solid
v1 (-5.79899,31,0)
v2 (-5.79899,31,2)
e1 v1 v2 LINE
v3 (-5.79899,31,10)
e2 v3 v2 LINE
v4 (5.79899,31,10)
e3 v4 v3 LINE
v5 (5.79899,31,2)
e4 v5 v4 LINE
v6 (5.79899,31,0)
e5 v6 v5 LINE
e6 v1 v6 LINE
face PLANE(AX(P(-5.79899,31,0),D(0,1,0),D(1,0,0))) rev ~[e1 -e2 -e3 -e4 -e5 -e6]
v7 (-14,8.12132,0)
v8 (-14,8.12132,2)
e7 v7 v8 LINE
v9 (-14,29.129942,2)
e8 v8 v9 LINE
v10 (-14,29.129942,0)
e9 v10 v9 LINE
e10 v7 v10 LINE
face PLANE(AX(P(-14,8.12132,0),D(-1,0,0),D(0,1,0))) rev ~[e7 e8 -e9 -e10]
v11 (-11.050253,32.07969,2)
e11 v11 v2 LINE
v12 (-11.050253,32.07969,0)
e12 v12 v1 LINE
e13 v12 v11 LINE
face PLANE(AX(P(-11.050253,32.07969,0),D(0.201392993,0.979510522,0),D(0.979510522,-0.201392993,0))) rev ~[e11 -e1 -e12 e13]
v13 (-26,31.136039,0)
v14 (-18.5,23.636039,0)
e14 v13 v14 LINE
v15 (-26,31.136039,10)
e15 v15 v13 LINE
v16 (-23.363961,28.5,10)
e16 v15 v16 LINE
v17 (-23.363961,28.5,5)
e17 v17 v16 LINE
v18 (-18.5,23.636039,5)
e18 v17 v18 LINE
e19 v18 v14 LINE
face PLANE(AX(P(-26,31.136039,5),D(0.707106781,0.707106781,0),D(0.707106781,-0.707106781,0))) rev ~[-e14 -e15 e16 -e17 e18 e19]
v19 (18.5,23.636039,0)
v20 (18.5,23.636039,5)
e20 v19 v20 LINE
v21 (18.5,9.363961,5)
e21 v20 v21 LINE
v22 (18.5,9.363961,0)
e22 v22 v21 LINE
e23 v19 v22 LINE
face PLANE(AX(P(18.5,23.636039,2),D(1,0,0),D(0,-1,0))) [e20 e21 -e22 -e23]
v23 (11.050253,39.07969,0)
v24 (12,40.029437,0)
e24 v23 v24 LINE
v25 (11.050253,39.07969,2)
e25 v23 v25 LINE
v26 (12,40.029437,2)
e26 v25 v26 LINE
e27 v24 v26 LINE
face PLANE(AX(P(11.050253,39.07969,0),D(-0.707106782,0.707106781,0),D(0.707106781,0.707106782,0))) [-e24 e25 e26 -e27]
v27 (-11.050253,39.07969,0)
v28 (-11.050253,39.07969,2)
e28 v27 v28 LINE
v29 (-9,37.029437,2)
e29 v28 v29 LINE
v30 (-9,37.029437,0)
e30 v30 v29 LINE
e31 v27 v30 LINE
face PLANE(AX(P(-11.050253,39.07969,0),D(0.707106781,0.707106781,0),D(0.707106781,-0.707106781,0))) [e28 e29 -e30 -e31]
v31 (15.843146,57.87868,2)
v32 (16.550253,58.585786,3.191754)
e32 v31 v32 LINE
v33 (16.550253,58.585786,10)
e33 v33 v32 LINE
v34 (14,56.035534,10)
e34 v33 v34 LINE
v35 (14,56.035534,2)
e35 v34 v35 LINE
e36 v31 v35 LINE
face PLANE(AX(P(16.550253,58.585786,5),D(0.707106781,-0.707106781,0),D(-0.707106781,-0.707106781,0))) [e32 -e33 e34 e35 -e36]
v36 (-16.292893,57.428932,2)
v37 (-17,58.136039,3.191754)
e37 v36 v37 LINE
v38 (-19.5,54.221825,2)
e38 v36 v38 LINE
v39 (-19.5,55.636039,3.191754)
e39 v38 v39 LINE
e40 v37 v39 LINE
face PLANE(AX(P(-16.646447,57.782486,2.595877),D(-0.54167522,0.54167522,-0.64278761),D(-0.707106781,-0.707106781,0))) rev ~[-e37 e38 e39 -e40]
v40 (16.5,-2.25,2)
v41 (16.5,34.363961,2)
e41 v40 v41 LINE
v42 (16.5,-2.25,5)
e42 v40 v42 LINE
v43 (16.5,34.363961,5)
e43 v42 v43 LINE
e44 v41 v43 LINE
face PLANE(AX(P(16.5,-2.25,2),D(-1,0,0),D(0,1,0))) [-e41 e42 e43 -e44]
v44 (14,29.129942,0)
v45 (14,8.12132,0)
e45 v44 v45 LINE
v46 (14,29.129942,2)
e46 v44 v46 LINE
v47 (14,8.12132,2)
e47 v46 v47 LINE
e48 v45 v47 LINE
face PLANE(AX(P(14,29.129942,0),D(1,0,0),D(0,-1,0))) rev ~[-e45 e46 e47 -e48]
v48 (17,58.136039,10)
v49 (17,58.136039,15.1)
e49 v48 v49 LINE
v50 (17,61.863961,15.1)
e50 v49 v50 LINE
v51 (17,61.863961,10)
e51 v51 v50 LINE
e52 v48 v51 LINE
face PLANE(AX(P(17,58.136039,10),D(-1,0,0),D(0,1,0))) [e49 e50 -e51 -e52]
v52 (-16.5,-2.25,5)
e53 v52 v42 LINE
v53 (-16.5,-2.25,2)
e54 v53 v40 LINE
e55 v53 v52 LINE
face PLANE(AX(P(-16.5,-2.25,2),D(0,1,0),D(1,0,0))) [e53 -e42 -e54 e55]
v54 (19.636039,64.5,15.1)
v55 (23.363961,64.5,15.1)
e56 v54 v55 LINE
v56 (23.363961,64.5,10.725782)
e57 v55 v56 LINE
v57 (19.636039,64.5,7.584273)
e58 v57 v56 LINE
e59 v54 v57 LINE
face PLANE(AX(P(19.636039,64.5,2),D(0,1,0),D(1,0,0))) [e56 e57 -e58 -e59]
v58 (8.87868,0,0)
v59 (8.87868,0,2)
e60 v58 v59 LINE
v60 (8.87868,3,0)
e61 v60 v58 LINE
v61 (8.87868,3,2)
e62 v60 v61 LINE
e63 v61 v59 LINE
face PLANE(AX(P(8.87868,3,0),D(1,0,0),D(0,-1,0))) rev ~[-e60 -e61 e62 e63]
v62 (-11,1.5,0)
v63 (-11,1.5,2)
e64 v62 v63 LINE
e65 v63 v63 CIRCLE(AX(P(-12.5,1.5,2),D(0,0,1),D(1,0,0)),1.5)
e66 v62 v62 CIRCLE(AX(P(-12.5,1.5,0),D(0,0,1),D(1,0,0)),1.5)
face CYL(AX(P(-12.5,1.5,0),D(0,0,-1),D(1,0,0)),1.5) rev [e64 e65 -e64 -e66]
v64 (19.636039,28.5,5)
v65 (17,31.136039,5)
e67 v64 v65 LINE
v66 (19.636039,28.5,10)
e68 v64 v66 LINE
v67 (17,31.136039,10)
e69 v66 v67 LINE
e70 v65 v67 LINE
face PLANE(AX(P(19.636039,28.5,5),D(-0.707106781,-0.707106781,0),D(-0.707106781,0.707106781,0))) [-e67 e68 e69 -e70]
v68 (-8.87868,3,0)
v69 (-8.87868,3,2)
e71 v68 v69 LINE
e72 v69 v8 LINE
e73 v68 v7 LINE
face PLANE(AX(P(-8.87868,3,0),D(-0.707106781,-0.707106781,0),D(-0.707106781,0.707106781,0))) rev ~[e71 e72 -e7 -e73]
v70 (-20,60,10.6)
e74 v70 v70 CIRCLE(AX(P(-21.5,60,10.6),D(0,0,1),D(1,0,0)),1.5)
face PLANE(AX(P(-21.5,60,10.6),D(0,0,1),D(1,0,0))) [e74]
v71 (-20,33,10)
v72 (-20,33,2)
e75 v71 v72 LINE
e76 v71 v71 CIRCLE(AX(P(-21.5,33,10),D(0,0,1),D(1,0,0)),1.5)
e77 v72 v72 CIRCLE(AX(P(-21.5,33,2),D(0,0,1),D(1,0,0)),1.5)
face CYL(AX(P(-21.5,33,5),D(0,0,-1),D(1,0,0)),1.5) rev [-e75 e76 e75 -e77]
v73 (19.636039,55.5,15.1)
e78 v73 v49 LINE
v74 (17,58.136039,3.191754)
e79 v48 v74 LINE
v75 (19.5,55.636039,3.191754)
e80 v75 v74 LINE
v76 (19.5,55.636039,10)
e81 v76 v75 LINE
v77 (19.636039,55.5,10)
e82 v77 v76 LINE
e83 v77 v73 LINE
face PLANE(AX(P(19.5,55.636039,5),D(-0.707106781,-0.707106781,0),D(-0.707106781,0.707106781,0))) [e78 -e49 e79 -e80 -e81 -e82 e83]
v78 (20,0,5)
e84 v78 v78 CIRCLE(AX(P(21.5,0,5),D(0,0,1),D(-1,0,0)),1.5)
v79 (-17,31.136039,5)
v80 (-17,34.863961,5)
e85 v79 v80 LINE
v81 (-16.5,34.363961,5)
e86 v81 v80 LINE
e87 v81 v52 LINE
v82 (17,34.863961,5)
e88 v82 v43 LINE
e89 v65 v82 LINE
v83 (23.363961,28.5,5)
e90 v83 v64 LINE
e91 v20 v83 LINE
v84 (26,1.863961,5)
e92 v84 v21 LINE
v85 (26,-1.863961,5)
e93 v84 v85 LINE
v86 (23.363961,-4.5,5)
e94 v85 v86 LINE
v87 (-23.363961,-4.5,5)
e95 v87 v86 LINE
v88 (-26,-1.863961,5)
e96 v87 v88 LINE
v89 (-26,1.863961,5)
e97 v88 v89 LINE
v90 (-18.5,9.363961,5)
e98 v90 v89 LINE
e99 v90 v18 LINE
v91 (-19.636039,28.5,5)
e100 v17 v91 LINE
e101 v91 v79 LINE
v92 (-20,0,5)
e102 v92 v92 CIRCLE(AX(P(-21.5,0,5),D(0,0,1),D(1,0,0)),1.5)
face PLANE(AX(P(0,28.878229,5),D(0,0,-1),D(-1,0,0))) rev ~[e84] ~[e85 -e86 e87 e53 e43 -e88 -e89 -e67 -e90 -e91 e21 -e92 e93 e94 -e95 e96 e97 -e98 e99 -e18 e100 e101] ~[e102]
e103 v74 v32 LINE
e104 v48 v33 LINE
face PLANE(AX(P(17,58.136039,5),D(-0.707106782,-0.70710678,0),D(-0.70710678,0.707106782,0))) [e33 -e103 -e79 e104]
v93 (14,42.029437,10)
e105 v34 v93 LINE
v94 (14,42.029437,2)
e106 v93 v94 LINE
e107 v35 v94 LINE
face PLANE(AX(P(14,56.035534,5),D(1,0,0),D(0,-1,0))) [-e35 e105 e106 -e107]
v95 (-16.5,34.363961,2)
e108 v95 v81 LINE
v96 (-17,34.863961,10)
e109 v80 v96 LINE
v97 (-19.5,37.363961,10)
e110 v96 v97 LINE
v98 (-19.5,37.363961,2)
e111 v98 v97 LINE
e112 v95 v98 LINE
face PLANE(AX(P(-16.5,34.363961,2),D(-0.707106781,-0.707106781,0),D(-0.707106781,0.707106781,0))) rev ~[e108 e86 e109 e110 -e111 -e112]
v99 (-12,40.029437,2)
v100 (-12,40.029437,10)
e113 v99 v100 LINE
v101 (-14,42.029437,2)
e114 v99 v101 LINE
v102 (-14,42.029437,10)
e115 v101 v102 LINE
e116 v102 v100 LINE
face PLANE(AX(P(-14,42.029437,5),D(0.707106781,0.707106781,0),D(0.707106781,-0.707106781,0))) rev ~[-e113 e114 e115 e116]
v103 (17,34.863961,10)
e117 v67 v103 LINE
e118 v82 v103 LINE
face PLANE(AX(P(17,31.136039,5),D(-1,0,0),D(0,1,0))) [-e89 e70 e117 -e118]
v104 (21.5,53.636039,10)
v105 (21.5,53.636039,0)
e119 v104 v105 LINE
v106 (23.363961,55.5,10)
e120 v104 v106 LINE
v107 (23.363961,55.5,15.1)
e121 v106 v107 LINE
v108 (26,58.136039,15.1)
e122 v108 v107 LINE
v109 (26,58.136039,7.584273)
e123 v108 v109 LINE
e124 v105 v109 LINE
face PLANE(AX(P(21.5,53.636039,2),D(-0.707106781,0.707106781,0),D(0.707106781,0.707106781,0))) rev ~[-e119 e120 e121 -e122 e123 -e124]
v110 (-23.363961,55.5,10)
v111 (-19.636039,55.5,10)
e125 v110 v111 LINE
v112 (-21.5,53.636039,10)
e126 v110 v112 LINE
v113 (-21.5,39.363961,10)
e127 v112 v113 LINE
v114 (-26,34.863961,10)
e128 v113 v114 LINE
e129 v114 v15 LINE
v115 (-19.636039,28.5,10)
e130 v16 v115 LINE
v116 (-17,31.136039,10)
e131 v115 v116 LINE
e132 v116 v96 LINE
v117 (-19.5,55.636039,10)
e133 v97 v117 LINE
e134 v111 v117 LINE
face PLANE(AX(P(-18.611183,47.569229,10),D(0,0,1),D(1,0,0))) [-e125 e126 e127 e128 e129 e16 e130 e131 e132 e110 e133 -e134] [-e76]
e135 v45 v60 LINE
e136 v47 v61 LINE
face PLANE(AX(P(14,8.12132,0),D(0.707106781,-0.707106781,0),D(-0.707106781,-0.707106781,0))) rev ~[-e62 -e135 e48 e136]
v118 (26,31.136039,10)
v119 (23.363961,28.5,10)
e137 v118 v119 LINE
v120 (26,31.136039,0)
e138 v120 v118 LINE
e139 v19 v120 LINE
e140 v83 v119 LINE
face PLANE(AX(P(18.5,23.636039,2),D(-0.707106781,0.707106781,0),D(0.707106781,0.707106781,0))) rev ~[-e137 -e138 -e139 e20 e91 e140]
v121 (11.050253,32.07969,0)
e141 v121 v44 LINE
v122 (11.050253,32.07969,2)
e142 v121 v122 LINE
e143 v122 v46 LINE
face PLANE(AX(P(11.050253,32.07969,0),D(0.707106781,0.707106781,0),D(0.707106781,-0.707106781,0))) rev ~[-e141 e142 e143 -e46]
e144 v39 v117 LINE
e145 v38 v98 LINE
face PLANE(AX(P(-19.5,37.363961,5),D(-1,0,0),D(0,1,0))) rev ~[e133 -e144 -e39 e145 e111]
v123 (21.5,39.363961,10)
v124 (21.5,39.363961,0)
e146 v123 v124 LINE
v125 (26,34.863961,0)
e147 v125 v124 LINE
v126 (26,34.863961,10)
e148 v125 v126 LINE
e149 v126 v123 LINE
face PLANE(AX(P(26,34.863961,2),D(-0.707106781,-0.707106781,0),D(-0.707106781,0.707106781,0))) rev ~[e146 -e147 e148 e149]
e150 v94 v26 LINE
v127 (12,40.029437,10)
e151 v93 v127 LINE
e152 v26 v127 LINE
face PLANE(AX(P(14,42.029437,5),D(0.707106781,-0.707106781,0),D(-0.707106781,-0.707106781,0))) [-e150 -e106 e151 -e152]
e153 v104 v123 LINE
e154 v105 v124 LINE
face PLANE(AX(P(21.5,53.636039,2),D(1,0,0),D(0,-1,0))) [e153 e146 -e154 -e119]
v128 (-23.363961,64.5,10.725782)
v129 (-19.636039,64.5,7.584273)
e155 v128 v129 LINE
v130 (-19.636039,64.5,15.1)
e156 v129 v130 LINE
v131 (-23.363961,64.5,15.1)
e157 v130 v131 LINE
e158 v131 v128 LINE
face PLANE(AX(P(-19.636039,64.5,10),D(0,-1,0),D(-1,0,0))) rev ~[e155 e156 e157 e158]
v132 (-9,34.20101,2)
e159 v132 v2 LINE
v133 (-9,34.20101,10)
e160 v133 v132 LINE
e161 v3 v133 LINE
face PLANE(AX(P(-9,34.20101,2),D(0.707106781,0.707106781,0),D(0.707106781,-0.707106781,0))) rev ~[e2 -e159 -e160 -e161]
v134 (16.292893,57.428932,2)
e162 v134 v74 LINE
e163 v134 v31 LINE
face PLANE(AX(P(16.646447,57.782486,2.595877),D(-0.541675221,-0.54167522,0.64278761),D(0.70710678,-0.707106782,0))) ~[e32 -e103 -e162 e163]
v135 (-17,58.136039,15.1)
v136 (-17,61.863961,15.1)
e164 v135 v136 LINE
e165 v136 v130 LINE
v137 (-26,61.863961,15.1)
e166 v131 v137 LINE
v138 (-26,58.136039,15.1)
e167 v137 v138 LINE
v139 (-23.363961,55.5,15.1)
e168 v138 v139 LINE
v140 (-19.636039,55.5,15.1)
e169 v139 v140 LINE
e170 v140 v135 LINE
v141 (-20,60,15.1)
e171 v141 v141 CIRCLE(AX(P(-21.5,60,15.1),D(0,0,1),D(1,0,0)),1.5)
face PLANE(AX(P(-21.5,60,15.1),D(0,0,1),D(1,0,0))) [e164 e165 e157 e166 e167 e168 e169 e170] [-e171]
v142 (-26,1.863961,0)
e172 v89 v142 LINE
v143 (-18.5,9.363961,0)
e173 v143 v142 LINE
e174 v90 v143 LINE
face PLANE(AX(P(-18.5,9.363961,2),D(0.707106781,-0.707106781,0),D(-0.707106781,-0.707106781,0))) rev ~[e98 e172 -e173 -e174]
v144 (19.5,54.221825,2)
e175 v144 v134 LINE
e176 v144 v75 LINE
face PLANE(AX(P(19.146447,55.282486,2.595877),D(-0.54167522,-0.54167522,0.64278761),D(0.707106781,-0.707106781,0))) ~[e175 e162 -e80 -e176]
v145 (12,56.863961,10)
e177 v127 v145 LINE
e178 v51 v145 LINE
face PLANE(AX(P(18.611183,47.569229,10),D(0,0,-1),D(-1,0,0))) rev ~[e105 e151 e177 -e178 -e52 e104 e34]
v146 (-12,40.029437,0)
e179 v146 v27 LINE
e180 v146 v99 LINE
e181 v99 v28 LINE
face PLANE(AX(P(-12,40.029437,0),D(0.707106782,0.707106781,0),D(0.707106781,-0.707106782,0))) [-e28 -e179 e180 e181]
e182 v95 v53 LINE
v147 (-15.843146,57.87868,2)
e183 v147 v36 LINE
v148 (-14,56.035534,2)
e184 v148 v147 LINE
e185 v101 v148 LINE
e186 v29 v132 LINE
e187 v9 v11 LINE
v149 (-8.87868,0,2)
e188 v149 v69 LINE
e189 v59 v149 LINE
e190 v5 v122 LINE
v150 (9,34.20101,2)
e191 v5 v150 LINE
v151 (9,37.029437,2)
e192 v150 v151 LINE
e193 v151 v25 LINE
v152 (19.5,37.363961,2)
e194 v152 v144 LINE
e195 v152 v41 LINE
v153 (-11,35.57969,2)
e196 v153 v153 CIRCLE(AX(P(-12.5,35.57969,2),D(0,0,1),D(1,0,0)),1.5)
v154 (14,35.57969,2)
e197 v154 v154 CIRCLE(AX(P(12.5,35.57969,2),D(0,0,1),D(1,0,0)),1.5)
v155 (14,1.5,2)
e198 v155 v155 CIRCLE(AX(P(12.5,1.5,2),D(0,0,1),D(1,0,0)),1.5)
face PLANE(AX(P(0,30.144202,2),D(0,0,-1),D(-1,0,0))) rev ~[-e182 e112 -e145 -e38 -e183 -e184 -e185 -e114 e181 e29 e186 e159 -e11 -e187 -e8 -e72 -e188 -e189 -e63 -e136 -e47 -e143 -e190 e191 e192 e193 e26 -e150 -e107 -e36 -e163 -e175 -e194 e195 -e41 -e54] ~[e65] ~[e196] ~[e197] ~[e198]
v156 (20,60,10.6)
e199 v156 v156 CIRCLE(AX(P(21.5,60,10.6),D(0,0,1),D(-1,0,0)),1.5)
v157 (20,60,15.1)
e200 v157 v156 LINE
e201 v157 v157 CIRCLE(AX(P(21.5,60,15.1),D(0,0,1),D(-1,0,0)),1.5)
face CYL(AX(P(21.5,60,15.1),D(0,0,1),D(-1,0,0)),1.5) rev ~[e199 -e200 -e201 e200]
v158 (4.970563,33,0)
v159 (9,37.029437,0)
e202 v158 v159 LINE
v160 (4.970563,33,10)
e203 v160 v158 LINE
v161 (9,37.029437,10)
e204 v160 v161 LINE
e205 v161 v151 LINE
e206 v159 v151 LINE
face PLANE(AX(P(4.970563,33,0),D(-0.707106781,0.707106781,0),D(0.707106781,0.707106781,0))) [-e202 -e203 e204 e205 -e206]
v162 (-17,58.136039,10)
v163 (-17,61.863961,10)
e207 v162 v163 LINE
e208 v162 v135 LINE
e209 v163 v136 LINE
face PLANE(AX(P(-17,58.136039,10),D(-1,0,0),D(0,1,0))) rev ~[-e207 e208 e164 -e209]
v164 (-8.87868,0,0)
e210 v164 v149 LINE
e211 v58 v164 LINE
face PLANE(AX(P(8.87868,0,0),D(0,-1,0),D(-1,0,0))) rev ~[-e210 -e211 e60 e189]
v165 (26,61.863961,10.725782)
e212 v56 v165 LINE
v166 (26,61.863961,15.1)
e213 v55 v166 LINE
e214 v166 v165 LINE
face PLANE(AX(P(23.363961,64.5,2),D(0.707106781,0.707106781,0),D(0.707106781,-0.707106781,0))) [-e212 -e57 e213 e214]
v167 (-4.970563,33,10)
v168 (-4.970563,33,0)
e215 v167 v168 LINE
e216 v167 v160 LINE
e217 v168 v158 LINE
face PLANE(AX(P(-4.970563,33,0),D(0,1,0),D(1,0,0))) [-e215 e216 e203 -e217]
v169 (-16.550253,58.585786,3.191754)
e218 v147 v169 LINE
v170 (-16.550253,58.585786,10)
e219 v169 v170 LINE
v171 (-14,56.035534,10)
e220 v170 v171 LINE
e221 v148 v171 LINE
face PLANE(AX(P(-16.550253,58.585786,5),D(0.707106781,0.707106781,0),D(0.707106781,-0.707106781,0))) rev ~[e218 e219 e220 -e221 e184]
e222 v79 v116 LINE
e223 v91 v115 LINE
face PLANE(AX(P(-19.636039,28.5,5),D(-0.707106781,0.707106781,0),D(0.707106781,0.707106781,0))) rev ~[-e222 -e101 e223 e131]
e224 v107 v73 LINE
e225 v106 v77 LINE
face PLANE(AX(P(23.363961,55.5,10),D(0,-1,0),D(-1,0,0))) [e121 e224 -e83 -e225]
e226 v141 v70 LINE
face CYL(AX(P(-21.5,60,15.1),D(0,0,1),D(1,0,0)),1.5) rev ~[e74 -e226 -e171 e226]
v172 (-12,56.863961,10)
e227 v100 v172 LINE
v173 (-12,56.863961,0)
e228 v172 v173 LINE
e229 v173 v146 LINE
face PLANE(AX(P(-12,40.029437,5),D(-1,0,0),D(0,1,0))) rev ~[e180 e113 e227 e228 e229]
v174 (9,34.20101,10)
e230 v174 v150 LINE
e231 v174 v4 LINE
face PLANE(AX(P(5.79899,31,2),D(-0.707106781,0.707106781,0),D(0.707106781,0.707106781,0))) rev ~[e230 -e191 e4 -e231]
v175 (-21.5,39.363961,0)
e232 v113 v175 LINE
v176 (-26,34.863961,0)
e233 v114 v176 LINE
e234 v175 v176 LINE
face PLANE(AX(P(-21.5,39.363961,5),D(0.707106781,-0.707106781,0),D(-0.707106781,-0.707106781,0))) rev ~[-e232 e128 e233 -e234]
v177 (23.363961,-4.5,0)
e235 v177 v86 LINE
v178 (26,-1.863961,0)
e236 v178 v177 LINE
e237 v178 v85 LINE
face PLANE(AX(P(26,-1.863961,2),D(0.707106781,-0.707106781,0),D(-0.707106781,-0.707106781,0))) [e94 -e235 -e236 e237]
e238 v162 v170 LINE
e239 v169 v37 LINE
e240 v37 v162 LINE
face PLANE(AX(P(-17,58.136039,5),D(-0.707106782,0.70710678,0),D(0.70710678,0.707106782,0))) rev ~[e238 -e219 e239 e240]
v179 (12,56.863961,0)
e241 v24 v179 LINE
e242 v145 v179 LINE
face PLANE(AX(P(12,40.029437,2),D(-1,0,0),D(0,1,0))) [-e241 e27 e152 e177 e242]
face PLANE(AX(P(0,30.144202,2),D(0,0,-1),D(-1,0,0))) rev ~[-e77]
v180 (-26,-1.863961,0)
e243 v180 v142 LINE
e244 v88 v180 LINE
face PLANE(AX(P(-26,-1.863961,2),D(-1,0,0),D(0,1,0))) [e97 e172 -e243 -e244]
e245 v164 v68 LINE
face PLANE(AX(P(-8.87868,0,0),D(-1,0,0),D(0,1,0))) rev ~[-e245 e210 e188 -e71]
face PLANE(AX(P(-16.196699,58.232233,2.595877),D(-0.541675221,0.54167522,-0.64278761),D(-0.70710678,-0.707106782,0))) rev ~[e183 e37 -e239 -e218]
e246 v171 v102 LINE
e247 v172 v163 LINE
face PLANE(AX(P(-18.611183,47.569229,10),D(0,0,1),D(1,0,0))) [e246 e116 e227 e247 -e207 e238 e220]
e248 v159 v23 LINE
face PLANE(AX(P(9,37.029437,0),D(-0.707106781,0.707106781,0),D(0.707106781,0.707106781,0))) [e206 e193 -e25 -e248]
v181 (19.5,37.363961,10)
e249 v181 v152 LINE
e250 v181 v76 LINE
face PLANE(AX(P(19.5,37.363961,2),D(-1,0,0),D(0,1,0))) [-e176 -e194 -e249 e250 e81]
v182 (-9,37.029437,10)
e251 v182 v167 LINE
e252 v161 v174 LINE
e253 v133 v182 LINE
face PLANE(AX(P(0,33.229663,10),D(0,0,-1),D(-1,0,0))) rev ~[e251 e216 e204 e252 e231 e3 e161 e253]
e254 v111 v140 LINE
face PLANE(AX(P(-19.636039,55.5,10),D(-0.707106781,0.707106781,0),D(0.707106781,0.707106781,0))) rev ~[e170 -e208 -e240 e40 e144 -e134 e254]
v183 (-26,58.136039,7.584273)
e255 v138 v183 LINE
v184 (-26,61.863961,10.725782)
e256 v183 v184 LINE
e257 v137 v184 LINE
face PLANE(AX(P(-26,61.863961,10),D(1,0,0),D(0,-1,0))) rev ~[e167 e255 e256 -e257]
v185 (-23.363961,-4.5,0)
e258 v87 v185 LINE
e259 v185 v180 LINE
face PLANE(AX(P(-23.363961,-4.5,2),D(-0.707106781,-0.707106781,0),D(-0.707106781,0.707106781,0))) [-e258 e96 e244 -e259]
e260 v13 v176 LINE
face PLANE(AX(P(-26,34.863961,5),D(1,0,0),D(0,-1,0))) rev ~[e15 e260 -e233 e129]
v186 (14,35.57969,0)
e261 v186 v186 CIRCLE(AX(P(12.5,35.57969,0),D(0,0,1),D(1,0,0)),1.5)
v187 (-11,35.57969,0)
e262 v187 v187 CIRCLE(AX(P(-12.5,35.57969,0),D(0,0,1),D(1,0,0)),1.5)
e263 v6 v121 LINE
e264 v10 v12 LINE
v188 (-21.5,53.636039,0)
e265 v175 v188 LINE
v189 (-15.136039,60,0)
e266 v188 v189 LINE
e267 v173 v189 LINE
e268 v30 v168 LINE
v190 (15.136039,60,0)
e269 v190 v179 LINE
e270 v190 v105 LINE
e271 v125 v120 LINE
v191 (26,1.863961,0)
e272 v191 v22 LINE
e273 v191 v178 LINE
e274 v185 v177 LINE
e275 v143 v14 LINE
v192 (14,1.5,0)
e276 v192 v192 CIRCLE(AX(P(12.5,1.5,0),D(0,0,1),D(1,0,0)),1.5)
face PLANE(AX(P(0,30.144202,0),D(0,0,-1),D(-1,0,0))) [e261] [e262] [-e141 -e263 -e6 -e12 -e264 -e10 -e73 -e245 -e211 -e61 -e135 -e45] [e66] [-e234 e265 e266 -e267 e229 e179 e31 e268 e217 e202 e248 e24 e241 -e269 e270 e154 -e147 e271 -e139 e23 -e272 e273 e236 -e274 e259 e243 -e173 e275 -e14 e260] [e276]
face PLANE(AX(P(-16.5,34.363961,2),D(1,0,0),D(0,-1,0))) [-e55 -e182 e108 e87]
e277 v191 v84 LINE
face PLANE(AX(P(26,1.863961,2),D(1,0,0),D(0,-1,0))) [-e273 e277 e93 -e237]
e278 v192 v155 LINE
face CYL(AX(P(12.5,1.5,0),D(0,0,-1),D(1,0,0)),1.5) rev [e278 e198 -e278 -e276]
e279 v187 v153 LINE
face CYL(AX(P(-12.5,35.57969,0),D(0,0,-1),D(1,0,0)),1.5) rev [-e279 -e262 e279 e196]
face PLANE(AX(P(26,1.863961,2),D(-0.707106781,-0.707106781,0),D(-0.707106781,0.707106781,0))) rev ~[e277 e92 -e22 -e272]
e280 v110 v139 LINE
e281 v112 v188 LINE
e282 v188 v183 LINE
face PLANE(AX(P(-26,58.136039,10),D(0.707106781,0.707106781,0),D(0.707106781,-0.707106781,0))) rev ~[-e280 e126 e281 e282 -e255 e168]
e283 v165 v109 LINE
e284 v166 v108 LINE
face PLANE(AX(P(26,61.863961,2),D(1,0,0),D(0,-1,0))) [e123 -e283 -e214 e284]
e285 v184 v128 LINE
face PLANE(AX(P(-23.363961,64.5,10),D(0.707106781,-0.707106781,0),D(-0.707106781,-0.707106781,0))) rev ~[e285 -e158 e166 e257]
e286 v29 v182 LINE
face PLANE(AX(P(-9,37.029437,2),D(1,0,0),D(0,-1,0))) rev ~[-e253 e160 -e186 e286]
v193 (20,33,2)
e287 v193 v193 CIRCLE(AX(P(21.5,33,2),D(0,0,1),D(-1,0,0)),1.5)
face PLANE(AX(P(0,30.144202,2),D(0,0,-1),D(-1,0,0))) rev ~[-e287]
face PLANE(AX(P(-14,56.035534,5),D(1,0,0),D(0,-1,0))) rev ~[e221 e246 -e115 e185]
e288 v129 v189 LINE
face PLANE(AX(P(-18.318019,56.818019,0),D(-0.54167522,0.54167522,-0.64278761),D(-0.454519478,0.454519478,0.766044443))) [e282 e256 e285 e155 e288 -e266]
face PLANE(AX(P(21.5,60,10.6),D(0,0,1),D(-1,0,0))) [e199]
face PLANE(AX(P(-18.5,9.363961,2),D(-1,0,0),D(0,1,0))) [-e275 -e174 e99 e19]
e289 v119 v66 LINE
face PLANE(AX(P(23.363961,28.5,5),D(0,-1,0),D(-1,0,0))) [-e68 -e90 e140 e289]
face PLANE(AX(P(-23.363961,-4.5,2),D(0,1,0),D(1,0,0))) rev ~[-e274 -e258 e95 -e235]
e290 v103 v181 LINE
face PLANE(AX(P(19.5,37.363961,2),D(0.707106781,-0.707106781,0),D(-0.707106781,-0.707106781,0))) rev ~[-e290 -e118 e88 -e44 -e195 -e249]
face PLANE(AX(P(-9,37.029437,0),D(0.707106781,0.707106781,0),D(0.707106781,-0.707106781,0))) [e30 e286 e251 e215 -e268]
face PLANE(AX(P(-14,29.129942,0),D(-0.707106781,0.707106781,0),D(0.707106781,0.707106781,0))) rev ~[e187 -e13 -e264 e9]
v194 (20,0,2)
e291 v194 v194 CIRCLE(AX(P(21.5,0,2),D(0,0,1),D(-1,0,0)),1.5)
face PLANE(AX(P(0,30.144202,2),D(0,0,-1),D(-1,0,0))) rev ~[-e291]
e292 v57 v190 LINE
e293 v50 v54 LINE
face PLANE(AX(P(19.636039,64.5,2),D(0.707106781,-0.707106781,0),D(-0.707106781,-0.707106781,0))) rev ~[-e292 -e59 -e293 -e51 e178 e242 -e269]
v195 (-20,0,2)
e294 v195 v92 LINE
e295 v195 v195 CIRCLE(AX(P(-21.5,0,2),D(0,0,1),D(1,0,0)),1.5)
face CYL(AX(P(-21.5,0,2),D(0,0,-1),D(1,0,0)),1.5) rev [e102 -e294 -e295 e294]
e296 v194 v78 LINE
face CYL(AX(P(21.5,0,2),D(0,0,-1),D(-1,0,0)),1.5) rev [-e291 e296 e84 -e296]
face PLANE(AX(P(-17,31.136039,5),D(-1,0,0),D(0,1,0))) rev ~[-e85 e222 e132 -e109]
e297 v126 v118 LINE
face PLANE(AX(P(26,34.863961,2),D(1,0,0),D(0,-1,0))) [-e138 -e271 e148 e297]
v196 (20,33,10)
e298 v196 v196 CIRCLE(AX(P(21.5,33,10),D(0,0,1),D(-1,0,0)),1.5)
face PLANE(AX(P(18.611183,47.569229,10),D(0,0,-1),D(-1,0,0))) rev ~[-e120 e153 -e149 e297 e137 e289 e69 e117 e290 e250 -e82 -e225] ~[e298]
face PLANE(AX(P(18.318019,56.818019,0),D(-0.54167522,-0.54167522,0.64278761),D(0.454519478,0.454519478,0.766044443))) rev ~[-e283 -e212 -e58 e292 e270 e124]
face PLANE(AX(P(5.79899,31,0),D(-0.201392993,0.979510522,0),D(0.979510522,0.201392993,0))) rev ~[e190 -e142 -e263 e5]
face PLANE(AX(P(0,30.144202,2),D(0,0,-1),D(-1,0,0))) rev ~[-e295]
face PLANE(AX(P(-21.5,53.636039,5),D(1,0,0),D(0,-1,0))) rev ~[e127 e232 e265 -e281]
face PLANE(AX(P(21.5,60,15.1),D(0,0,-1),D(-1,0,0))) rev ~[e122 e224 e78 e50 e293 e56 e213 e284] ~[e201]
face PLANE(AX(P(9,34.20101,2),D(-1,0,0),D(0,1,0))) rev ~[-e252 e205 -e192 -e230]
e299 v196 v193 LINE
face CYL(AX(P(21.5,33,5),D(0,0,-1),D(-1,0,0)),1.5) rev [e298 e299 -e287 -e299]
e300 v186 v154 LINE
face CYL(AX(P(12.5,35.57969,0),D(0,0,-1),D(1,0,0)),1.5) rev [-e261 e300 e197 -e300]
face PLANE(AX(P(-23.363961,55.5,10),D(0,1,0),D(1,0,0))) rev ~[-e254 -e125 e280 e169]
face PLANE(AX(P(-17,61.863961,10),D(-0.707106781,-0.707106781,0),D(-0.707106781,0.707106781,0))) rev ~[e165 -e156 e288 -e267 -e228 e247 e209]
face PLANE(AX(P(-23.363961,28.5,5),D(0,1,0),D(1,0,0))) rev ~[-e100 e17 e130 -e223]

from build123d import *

# Parameters (mm, degrees)
SKETCH5_R           = 1.5
BOSS_EXTRUDE1_DEPTH = 2
SKETCH9_R           = 1.5
BOSS_EXTRUDE3_DEPTH = 3
SKETCH10_R          = 1.5
BOSS_EXTRUDE4_DEPTH = 5
BOSS_EXTRUDE5_DEPTH = 5.1
SKETCH13_R          = 1.5
CUT_EXTRUDE1_DEPTH  = 4.5
CUT_EXTRUDE2_DEPTH  = 7.5
CUT_EXTRUDE3_DEPTH  = 7.5
CHAMFER1_SIZE       = 1
CHAMFER1_SIZE2      = 1.191753593


with BuildPart() as part:
    # Sketch5 → Boss-Extrude1 (new body)
    with BuildSketch(Plane.XY):
        Polygon((19.636038969, -4.5), (-19.636038969, -4.5), (-23.363961031, -4.5), (-26, -1.863961031), (-26, 1.863961031), (-23.363961031, 4.5), (-18.5, 9.363961031), (-18.5, 23.636038969), (-23.363961031, 28.5), (-26, 31.136038969), (-26, 34.863961031), (-23.363961031, 37.5), (-21.5, 39.363961031), (-21.5, 53.636038969), (-23.363961031, 55.5), (-26, 58.136038969), (-26, 61.863961031), (-23.363961031, 64.5), (-19.636038969, 64.5), (-17, 61.863961031), (-12, 56.863961031), (-12, 40.029437252), (-11.050252532, 39.079689783), (-9, 37.029437252), (-4.970562748, 33), (4.970562748, 33), (9, 37.029437252), (11.050252532, 39.079689783), (12, 40.029437252), (12, 56.863961031), (17, 61.863961031), (19.636038969, 64.5), (23.363961031, 64.5), (26, 61.863961031), (26, 58.136038969), (23.363961031, 55.5), (21.5, 53.636038969), (21.5, 39.363961031), (23.363961031, 37.5), (26, 34.863961031), (26, 31.136038969), (23.363961031, 28.5), (18.5, 23.636038969), (18.5, 9.363961031), (23.363961031, 4.5), (26, 1.863961031), (26, -1.863961031), (23.363961031, -4.5), align=None)
        with Locations((-12.5, 35.579689783)):
            Circle(SKETCH5_R, mode=Mode.SUBTRACT)
        with Locations((-12.5, 1.5)):
            Circle(SKETCH5_R, mode=Mode.SUBTRACT)
        with Locations((12.5, 1.5)):
            Circle(SKETCH5_R, mode=Mode.SUBTRACT)
        with Locations((12.5, 35.579689783)):
            Circle(SKETCH5_R, mode=Mode.SUBTRACT)
        Polygon((-5.798989873, 31), (5.798989873, 31), (11.050252532, 32.079689783), (14, 29.129942315), (14, 8.121320344), (11, 5.121320344), (8.878679656, 3), (8.878679656, 0), (-8.878679656, 0), (-8.878679656, 3), (-11, 5.121320344), (-14, 8.121320344), (-14, 29.129942315), (-11.050252532, 32.079689783), align=None, mode=Mode.SUBTRACT)
    extrude(amount=BOSS_EXTRUDE1_DEPTH)

    # Sketch9 → Boss-Extrude3 (add)
    # profile 1 of 2: a face of its own
    with BuildSketch(Plane.XY.offset(2)):
        Polygon((19.636038969, -4.5), (-19.636038969, -4.5), (-23.363961031, -4.5), (-26, -1.863961031), (-26, 1.863961031), (-23.363961031, 4.5), (-18.5, 9.363961031), (-18.5, 23.636038969), (-23.363961031, 28.5), (-26, 31.136038969), (-26, 34.863961031), (-23.363961031, 37.5), (-21.5, 39.363961031), (-21.5, 53.636038969), (-23.363961031, 55.5), (-26, 58.136038969), (-26, 61.863961031), (-23.363961031, 64.5), (-19.636038969, 64.5), (-17, 61.863961031), (-12, 56.863961031), (-12, 40.029437252), (-14, 42.029437252), (-14, 56.035533906), (-16.550252532, 58.585786438), (-17, 58.136038969), (-19.5, 55.636038969), (-19.5, 37.363961031), (-17, 34.863961031), (-16.5, 34.363961031), (-16.5, -2.25), (16.5, -2.25), (16.5, 34.363961031), (17, 34.863961031), (19.5, 37.363961031), (19.5, 55.636038969), (17, 58.136038969), (16.550252532, 58.585786438), (14, 56.035533906), (14, 42.029437252), (12, 40.029437252), (12, 56.863961031), (17, 61.863961031), (19.636038969, 64.5), (23.363961031, 64.5), (26, 61.863961031), (26, 58.136038969), (23.363961031, 55.5), (21.5, 53.636038969), (21.5, 39.363961031), (23.363961031, 37.5), (26, 34.863961031), (26, 31.136038969), (23.363961031, 28.5), (18.5, 23.636038969), (18.5, 9.363961031), (23.363961031, 4.5), (26, 1.863961031), (26, -1.863961031), (23.363961031, -4.5), align=None)
        with Locations((-21.5, 0)):
            Circle(SKETCH9_R, mode=Mode.SUBTRACT)
        with Locations((-21.5, 33)):
            Circle(SKETCH9_R, mode=Mode.SUBTRACT)
        with Locations(Location((21.5, 33, 0), (0, 0, 180))):
            Circle(SKETCH9_R, mode=Mode.SUBTRACT)
        with Locations(Location((21.5, 0, 0), (0, 0, 180))):
            Circle(SKETCH9_R, mode=Mode.SUBTRACT)
    # profile 2 of 2: a face of its own
    with BuildSketch(Plane.XY.offset(2)):
        Polygon((4.970562748, 33), (-4.970562748, 33), (-9, 37.029437252), (-9, 34.201010127), (-5.798989873, 31), (5.798989873, 31), (9, 34.201010127), (9, 37.029437252), align=None)
    extrude(amount=BOSS_EXTRUDE3_DEPTH)

    # Sketch10 → Boss-Extrude4 (add)
    # profile 1 of 3: a face of its own
    with BuildSketch(Plane.XY.offset(5)):
        Polygon((-23.363961031, 28.5), (-19.636038969, 28.5), (-17, 31.136038969), (-17, 34.863961031), (-19.5, 37.363961031), (-19.5, 55.636038969), (-17, 58.136038969), (-16.550252532, 58.585786438), (-14, 56.035533906), (-14, 42.029437252), (-12, 40.029437252), (-12, 56.863961031), (-17, 61.863961031), (-19.636038969, 64.5), (-23.363961031, 64.5), (-26, 61.863961031), (-26, 58.136038969), (-23.363961031, 55.5), (-21.5, 53.636038969), (-21.5, 39.363961031), (-23.363961031, 37.5), (-26, 34.863961031), (-26, 31.136038969), align=None)
        with Locations((-21.5, 33)):
            Circle(SKETCH10_R, mode=Mode.SUBTRACT)
    # profile 2 of 3: a face of its own
    with BuildSketch(Plane.XY.offset(5)):
        Polygon((-9, 34.201010127), (-9, 37.029437252), (-4.970562748, 33), (4.970562748, 33), (9, 37.029437252), (9, 34.201010127), (5.798989873, 31), (-5.798989873, 31), align=None)
    # profile 3 of 3: a face of its own
    with BuildSketch(Plane.XY.offset(5)):
        Polygon((19.636038969, 28.5), (17, 31.136038969), (17, 34.863961031), (19.5, 37.363961031), (19.5, 55.636038969), (17, 58.136038969), (16.550252532, 58.585786438), (14, 56.035533906), (14, 42.029437252), (12, 40.029437252), (12, 56.863961031), (17, 61.863961031), (19.636038969, 64.5), (23.363961031, 64.5), (26, 61.863961031), (26, 58.136038969), (23.363961031, 55.5), (21.5, 53.636038969), (21.5, 39.363961031), (23.363961031, 37.5), (26, 34.863961031), (26, 31.136038969), (23.363961031, 28.5), align=None)
        with Locations(Location((21.5, 33, 0), (0, 0, 180))):
            Circle(SKETCH10_R, mode=Mode.SUBTRACT)
    extrude(amount=BOSS_EXTRUDE4_DEPTH)

    # Sketch12 → Boss-Extrude5 (add)
    with BuildSketch(Plane.XY.offset(10)):
        Polygon((-26, 58.136038969), (-23.363961031, 55.5), (-19.636038969, 55.5), (-17, 58.136038969), (-17, 61.863961031), (-19.636038969, 64.5), (-23.363961031, 64.5), (-26, 61.863961031), align=None)
        Polygon((17, 58.136038969), (17, 61.863961031), (19.636038969, 64.5), (23.363961031, 64.5), (26, 61.863961031), (26, 58.136038969), (23.363961031, 55.5), (19.636038969, 55.5), align=None)
    extrude(amount=BOSS_EXTRUDE5_DEPTH)

    # Sketch13 → Cut-Extrude1 (cut)
    with BuildSketch(Plane.XY.offset(15.1)):
        with Locations((-21.5, 60)):
            Circle(SKETCH13_R)
        with Locations(Location((21.5, 60, 0), (0, 0, 180))):
            Circle(SKETCH13_R)
    extrude(amount=-CUT_EXTRUDE1_DEPTH, mode=Mode.SUBTRACT)

    # Sketch15 → Cut-Extrude2 (cut, symmetric)
    with BuildSketch(Plane(origin=(19.25, 19.25, 0), x_dir=(0, 0, -1), z_dir=(0.7071067811865485, 0.7071067811865467, 0))):
        Polygon((0, 53.129202667), (-15.320888862, 65.98495486), (-8.893012766, 73.645399292), (6.427876097, 60.789647098), align=None)
    extrude(amount=CUT_EXTRUDE2_DEPTH, both=True, mode=Mode.SUBTRACT)

    # Sketch16 → Cut-Extrude3 (cut, symmetric)
    with BuildSketch(Plane(origin=(-19.25, 19.25, 0), x_dir=(0.7071067811865477, 0.7071067811865474, 0), z_dir=(-0.7071067811865474, 0.7071067811865477, 0))):
        Polygon((53.129202667, 0), (65.98495486, -15.320888862), (73.645399292, -8.893012766), (60.789647098, 6.427876097), align=None)
    extrude(amount=CUT_EXTRUDE3_DEPTH, both=True, mode=Mode.SUBTRACT)

    # Chamfer1
    chamfer1_edges = [part.edges().sort_by_distance(p)[0] for p in [
        (18.025126266, 57.110912703, 2),
        (-18.025126266, 57.110912703, 2),
    ]]
    chamfer1_side = [part.faces().sort_by_distance(p)[0] for p in [
        (-13.510979105, 40.518458147, 2),
    ]]
    chamfer(chamfer1_edges, length=CHAMFER1_SIZE, length2=CHAMFER1_SIZE2, reference=chamfer1_side[0])


solid = part.part
